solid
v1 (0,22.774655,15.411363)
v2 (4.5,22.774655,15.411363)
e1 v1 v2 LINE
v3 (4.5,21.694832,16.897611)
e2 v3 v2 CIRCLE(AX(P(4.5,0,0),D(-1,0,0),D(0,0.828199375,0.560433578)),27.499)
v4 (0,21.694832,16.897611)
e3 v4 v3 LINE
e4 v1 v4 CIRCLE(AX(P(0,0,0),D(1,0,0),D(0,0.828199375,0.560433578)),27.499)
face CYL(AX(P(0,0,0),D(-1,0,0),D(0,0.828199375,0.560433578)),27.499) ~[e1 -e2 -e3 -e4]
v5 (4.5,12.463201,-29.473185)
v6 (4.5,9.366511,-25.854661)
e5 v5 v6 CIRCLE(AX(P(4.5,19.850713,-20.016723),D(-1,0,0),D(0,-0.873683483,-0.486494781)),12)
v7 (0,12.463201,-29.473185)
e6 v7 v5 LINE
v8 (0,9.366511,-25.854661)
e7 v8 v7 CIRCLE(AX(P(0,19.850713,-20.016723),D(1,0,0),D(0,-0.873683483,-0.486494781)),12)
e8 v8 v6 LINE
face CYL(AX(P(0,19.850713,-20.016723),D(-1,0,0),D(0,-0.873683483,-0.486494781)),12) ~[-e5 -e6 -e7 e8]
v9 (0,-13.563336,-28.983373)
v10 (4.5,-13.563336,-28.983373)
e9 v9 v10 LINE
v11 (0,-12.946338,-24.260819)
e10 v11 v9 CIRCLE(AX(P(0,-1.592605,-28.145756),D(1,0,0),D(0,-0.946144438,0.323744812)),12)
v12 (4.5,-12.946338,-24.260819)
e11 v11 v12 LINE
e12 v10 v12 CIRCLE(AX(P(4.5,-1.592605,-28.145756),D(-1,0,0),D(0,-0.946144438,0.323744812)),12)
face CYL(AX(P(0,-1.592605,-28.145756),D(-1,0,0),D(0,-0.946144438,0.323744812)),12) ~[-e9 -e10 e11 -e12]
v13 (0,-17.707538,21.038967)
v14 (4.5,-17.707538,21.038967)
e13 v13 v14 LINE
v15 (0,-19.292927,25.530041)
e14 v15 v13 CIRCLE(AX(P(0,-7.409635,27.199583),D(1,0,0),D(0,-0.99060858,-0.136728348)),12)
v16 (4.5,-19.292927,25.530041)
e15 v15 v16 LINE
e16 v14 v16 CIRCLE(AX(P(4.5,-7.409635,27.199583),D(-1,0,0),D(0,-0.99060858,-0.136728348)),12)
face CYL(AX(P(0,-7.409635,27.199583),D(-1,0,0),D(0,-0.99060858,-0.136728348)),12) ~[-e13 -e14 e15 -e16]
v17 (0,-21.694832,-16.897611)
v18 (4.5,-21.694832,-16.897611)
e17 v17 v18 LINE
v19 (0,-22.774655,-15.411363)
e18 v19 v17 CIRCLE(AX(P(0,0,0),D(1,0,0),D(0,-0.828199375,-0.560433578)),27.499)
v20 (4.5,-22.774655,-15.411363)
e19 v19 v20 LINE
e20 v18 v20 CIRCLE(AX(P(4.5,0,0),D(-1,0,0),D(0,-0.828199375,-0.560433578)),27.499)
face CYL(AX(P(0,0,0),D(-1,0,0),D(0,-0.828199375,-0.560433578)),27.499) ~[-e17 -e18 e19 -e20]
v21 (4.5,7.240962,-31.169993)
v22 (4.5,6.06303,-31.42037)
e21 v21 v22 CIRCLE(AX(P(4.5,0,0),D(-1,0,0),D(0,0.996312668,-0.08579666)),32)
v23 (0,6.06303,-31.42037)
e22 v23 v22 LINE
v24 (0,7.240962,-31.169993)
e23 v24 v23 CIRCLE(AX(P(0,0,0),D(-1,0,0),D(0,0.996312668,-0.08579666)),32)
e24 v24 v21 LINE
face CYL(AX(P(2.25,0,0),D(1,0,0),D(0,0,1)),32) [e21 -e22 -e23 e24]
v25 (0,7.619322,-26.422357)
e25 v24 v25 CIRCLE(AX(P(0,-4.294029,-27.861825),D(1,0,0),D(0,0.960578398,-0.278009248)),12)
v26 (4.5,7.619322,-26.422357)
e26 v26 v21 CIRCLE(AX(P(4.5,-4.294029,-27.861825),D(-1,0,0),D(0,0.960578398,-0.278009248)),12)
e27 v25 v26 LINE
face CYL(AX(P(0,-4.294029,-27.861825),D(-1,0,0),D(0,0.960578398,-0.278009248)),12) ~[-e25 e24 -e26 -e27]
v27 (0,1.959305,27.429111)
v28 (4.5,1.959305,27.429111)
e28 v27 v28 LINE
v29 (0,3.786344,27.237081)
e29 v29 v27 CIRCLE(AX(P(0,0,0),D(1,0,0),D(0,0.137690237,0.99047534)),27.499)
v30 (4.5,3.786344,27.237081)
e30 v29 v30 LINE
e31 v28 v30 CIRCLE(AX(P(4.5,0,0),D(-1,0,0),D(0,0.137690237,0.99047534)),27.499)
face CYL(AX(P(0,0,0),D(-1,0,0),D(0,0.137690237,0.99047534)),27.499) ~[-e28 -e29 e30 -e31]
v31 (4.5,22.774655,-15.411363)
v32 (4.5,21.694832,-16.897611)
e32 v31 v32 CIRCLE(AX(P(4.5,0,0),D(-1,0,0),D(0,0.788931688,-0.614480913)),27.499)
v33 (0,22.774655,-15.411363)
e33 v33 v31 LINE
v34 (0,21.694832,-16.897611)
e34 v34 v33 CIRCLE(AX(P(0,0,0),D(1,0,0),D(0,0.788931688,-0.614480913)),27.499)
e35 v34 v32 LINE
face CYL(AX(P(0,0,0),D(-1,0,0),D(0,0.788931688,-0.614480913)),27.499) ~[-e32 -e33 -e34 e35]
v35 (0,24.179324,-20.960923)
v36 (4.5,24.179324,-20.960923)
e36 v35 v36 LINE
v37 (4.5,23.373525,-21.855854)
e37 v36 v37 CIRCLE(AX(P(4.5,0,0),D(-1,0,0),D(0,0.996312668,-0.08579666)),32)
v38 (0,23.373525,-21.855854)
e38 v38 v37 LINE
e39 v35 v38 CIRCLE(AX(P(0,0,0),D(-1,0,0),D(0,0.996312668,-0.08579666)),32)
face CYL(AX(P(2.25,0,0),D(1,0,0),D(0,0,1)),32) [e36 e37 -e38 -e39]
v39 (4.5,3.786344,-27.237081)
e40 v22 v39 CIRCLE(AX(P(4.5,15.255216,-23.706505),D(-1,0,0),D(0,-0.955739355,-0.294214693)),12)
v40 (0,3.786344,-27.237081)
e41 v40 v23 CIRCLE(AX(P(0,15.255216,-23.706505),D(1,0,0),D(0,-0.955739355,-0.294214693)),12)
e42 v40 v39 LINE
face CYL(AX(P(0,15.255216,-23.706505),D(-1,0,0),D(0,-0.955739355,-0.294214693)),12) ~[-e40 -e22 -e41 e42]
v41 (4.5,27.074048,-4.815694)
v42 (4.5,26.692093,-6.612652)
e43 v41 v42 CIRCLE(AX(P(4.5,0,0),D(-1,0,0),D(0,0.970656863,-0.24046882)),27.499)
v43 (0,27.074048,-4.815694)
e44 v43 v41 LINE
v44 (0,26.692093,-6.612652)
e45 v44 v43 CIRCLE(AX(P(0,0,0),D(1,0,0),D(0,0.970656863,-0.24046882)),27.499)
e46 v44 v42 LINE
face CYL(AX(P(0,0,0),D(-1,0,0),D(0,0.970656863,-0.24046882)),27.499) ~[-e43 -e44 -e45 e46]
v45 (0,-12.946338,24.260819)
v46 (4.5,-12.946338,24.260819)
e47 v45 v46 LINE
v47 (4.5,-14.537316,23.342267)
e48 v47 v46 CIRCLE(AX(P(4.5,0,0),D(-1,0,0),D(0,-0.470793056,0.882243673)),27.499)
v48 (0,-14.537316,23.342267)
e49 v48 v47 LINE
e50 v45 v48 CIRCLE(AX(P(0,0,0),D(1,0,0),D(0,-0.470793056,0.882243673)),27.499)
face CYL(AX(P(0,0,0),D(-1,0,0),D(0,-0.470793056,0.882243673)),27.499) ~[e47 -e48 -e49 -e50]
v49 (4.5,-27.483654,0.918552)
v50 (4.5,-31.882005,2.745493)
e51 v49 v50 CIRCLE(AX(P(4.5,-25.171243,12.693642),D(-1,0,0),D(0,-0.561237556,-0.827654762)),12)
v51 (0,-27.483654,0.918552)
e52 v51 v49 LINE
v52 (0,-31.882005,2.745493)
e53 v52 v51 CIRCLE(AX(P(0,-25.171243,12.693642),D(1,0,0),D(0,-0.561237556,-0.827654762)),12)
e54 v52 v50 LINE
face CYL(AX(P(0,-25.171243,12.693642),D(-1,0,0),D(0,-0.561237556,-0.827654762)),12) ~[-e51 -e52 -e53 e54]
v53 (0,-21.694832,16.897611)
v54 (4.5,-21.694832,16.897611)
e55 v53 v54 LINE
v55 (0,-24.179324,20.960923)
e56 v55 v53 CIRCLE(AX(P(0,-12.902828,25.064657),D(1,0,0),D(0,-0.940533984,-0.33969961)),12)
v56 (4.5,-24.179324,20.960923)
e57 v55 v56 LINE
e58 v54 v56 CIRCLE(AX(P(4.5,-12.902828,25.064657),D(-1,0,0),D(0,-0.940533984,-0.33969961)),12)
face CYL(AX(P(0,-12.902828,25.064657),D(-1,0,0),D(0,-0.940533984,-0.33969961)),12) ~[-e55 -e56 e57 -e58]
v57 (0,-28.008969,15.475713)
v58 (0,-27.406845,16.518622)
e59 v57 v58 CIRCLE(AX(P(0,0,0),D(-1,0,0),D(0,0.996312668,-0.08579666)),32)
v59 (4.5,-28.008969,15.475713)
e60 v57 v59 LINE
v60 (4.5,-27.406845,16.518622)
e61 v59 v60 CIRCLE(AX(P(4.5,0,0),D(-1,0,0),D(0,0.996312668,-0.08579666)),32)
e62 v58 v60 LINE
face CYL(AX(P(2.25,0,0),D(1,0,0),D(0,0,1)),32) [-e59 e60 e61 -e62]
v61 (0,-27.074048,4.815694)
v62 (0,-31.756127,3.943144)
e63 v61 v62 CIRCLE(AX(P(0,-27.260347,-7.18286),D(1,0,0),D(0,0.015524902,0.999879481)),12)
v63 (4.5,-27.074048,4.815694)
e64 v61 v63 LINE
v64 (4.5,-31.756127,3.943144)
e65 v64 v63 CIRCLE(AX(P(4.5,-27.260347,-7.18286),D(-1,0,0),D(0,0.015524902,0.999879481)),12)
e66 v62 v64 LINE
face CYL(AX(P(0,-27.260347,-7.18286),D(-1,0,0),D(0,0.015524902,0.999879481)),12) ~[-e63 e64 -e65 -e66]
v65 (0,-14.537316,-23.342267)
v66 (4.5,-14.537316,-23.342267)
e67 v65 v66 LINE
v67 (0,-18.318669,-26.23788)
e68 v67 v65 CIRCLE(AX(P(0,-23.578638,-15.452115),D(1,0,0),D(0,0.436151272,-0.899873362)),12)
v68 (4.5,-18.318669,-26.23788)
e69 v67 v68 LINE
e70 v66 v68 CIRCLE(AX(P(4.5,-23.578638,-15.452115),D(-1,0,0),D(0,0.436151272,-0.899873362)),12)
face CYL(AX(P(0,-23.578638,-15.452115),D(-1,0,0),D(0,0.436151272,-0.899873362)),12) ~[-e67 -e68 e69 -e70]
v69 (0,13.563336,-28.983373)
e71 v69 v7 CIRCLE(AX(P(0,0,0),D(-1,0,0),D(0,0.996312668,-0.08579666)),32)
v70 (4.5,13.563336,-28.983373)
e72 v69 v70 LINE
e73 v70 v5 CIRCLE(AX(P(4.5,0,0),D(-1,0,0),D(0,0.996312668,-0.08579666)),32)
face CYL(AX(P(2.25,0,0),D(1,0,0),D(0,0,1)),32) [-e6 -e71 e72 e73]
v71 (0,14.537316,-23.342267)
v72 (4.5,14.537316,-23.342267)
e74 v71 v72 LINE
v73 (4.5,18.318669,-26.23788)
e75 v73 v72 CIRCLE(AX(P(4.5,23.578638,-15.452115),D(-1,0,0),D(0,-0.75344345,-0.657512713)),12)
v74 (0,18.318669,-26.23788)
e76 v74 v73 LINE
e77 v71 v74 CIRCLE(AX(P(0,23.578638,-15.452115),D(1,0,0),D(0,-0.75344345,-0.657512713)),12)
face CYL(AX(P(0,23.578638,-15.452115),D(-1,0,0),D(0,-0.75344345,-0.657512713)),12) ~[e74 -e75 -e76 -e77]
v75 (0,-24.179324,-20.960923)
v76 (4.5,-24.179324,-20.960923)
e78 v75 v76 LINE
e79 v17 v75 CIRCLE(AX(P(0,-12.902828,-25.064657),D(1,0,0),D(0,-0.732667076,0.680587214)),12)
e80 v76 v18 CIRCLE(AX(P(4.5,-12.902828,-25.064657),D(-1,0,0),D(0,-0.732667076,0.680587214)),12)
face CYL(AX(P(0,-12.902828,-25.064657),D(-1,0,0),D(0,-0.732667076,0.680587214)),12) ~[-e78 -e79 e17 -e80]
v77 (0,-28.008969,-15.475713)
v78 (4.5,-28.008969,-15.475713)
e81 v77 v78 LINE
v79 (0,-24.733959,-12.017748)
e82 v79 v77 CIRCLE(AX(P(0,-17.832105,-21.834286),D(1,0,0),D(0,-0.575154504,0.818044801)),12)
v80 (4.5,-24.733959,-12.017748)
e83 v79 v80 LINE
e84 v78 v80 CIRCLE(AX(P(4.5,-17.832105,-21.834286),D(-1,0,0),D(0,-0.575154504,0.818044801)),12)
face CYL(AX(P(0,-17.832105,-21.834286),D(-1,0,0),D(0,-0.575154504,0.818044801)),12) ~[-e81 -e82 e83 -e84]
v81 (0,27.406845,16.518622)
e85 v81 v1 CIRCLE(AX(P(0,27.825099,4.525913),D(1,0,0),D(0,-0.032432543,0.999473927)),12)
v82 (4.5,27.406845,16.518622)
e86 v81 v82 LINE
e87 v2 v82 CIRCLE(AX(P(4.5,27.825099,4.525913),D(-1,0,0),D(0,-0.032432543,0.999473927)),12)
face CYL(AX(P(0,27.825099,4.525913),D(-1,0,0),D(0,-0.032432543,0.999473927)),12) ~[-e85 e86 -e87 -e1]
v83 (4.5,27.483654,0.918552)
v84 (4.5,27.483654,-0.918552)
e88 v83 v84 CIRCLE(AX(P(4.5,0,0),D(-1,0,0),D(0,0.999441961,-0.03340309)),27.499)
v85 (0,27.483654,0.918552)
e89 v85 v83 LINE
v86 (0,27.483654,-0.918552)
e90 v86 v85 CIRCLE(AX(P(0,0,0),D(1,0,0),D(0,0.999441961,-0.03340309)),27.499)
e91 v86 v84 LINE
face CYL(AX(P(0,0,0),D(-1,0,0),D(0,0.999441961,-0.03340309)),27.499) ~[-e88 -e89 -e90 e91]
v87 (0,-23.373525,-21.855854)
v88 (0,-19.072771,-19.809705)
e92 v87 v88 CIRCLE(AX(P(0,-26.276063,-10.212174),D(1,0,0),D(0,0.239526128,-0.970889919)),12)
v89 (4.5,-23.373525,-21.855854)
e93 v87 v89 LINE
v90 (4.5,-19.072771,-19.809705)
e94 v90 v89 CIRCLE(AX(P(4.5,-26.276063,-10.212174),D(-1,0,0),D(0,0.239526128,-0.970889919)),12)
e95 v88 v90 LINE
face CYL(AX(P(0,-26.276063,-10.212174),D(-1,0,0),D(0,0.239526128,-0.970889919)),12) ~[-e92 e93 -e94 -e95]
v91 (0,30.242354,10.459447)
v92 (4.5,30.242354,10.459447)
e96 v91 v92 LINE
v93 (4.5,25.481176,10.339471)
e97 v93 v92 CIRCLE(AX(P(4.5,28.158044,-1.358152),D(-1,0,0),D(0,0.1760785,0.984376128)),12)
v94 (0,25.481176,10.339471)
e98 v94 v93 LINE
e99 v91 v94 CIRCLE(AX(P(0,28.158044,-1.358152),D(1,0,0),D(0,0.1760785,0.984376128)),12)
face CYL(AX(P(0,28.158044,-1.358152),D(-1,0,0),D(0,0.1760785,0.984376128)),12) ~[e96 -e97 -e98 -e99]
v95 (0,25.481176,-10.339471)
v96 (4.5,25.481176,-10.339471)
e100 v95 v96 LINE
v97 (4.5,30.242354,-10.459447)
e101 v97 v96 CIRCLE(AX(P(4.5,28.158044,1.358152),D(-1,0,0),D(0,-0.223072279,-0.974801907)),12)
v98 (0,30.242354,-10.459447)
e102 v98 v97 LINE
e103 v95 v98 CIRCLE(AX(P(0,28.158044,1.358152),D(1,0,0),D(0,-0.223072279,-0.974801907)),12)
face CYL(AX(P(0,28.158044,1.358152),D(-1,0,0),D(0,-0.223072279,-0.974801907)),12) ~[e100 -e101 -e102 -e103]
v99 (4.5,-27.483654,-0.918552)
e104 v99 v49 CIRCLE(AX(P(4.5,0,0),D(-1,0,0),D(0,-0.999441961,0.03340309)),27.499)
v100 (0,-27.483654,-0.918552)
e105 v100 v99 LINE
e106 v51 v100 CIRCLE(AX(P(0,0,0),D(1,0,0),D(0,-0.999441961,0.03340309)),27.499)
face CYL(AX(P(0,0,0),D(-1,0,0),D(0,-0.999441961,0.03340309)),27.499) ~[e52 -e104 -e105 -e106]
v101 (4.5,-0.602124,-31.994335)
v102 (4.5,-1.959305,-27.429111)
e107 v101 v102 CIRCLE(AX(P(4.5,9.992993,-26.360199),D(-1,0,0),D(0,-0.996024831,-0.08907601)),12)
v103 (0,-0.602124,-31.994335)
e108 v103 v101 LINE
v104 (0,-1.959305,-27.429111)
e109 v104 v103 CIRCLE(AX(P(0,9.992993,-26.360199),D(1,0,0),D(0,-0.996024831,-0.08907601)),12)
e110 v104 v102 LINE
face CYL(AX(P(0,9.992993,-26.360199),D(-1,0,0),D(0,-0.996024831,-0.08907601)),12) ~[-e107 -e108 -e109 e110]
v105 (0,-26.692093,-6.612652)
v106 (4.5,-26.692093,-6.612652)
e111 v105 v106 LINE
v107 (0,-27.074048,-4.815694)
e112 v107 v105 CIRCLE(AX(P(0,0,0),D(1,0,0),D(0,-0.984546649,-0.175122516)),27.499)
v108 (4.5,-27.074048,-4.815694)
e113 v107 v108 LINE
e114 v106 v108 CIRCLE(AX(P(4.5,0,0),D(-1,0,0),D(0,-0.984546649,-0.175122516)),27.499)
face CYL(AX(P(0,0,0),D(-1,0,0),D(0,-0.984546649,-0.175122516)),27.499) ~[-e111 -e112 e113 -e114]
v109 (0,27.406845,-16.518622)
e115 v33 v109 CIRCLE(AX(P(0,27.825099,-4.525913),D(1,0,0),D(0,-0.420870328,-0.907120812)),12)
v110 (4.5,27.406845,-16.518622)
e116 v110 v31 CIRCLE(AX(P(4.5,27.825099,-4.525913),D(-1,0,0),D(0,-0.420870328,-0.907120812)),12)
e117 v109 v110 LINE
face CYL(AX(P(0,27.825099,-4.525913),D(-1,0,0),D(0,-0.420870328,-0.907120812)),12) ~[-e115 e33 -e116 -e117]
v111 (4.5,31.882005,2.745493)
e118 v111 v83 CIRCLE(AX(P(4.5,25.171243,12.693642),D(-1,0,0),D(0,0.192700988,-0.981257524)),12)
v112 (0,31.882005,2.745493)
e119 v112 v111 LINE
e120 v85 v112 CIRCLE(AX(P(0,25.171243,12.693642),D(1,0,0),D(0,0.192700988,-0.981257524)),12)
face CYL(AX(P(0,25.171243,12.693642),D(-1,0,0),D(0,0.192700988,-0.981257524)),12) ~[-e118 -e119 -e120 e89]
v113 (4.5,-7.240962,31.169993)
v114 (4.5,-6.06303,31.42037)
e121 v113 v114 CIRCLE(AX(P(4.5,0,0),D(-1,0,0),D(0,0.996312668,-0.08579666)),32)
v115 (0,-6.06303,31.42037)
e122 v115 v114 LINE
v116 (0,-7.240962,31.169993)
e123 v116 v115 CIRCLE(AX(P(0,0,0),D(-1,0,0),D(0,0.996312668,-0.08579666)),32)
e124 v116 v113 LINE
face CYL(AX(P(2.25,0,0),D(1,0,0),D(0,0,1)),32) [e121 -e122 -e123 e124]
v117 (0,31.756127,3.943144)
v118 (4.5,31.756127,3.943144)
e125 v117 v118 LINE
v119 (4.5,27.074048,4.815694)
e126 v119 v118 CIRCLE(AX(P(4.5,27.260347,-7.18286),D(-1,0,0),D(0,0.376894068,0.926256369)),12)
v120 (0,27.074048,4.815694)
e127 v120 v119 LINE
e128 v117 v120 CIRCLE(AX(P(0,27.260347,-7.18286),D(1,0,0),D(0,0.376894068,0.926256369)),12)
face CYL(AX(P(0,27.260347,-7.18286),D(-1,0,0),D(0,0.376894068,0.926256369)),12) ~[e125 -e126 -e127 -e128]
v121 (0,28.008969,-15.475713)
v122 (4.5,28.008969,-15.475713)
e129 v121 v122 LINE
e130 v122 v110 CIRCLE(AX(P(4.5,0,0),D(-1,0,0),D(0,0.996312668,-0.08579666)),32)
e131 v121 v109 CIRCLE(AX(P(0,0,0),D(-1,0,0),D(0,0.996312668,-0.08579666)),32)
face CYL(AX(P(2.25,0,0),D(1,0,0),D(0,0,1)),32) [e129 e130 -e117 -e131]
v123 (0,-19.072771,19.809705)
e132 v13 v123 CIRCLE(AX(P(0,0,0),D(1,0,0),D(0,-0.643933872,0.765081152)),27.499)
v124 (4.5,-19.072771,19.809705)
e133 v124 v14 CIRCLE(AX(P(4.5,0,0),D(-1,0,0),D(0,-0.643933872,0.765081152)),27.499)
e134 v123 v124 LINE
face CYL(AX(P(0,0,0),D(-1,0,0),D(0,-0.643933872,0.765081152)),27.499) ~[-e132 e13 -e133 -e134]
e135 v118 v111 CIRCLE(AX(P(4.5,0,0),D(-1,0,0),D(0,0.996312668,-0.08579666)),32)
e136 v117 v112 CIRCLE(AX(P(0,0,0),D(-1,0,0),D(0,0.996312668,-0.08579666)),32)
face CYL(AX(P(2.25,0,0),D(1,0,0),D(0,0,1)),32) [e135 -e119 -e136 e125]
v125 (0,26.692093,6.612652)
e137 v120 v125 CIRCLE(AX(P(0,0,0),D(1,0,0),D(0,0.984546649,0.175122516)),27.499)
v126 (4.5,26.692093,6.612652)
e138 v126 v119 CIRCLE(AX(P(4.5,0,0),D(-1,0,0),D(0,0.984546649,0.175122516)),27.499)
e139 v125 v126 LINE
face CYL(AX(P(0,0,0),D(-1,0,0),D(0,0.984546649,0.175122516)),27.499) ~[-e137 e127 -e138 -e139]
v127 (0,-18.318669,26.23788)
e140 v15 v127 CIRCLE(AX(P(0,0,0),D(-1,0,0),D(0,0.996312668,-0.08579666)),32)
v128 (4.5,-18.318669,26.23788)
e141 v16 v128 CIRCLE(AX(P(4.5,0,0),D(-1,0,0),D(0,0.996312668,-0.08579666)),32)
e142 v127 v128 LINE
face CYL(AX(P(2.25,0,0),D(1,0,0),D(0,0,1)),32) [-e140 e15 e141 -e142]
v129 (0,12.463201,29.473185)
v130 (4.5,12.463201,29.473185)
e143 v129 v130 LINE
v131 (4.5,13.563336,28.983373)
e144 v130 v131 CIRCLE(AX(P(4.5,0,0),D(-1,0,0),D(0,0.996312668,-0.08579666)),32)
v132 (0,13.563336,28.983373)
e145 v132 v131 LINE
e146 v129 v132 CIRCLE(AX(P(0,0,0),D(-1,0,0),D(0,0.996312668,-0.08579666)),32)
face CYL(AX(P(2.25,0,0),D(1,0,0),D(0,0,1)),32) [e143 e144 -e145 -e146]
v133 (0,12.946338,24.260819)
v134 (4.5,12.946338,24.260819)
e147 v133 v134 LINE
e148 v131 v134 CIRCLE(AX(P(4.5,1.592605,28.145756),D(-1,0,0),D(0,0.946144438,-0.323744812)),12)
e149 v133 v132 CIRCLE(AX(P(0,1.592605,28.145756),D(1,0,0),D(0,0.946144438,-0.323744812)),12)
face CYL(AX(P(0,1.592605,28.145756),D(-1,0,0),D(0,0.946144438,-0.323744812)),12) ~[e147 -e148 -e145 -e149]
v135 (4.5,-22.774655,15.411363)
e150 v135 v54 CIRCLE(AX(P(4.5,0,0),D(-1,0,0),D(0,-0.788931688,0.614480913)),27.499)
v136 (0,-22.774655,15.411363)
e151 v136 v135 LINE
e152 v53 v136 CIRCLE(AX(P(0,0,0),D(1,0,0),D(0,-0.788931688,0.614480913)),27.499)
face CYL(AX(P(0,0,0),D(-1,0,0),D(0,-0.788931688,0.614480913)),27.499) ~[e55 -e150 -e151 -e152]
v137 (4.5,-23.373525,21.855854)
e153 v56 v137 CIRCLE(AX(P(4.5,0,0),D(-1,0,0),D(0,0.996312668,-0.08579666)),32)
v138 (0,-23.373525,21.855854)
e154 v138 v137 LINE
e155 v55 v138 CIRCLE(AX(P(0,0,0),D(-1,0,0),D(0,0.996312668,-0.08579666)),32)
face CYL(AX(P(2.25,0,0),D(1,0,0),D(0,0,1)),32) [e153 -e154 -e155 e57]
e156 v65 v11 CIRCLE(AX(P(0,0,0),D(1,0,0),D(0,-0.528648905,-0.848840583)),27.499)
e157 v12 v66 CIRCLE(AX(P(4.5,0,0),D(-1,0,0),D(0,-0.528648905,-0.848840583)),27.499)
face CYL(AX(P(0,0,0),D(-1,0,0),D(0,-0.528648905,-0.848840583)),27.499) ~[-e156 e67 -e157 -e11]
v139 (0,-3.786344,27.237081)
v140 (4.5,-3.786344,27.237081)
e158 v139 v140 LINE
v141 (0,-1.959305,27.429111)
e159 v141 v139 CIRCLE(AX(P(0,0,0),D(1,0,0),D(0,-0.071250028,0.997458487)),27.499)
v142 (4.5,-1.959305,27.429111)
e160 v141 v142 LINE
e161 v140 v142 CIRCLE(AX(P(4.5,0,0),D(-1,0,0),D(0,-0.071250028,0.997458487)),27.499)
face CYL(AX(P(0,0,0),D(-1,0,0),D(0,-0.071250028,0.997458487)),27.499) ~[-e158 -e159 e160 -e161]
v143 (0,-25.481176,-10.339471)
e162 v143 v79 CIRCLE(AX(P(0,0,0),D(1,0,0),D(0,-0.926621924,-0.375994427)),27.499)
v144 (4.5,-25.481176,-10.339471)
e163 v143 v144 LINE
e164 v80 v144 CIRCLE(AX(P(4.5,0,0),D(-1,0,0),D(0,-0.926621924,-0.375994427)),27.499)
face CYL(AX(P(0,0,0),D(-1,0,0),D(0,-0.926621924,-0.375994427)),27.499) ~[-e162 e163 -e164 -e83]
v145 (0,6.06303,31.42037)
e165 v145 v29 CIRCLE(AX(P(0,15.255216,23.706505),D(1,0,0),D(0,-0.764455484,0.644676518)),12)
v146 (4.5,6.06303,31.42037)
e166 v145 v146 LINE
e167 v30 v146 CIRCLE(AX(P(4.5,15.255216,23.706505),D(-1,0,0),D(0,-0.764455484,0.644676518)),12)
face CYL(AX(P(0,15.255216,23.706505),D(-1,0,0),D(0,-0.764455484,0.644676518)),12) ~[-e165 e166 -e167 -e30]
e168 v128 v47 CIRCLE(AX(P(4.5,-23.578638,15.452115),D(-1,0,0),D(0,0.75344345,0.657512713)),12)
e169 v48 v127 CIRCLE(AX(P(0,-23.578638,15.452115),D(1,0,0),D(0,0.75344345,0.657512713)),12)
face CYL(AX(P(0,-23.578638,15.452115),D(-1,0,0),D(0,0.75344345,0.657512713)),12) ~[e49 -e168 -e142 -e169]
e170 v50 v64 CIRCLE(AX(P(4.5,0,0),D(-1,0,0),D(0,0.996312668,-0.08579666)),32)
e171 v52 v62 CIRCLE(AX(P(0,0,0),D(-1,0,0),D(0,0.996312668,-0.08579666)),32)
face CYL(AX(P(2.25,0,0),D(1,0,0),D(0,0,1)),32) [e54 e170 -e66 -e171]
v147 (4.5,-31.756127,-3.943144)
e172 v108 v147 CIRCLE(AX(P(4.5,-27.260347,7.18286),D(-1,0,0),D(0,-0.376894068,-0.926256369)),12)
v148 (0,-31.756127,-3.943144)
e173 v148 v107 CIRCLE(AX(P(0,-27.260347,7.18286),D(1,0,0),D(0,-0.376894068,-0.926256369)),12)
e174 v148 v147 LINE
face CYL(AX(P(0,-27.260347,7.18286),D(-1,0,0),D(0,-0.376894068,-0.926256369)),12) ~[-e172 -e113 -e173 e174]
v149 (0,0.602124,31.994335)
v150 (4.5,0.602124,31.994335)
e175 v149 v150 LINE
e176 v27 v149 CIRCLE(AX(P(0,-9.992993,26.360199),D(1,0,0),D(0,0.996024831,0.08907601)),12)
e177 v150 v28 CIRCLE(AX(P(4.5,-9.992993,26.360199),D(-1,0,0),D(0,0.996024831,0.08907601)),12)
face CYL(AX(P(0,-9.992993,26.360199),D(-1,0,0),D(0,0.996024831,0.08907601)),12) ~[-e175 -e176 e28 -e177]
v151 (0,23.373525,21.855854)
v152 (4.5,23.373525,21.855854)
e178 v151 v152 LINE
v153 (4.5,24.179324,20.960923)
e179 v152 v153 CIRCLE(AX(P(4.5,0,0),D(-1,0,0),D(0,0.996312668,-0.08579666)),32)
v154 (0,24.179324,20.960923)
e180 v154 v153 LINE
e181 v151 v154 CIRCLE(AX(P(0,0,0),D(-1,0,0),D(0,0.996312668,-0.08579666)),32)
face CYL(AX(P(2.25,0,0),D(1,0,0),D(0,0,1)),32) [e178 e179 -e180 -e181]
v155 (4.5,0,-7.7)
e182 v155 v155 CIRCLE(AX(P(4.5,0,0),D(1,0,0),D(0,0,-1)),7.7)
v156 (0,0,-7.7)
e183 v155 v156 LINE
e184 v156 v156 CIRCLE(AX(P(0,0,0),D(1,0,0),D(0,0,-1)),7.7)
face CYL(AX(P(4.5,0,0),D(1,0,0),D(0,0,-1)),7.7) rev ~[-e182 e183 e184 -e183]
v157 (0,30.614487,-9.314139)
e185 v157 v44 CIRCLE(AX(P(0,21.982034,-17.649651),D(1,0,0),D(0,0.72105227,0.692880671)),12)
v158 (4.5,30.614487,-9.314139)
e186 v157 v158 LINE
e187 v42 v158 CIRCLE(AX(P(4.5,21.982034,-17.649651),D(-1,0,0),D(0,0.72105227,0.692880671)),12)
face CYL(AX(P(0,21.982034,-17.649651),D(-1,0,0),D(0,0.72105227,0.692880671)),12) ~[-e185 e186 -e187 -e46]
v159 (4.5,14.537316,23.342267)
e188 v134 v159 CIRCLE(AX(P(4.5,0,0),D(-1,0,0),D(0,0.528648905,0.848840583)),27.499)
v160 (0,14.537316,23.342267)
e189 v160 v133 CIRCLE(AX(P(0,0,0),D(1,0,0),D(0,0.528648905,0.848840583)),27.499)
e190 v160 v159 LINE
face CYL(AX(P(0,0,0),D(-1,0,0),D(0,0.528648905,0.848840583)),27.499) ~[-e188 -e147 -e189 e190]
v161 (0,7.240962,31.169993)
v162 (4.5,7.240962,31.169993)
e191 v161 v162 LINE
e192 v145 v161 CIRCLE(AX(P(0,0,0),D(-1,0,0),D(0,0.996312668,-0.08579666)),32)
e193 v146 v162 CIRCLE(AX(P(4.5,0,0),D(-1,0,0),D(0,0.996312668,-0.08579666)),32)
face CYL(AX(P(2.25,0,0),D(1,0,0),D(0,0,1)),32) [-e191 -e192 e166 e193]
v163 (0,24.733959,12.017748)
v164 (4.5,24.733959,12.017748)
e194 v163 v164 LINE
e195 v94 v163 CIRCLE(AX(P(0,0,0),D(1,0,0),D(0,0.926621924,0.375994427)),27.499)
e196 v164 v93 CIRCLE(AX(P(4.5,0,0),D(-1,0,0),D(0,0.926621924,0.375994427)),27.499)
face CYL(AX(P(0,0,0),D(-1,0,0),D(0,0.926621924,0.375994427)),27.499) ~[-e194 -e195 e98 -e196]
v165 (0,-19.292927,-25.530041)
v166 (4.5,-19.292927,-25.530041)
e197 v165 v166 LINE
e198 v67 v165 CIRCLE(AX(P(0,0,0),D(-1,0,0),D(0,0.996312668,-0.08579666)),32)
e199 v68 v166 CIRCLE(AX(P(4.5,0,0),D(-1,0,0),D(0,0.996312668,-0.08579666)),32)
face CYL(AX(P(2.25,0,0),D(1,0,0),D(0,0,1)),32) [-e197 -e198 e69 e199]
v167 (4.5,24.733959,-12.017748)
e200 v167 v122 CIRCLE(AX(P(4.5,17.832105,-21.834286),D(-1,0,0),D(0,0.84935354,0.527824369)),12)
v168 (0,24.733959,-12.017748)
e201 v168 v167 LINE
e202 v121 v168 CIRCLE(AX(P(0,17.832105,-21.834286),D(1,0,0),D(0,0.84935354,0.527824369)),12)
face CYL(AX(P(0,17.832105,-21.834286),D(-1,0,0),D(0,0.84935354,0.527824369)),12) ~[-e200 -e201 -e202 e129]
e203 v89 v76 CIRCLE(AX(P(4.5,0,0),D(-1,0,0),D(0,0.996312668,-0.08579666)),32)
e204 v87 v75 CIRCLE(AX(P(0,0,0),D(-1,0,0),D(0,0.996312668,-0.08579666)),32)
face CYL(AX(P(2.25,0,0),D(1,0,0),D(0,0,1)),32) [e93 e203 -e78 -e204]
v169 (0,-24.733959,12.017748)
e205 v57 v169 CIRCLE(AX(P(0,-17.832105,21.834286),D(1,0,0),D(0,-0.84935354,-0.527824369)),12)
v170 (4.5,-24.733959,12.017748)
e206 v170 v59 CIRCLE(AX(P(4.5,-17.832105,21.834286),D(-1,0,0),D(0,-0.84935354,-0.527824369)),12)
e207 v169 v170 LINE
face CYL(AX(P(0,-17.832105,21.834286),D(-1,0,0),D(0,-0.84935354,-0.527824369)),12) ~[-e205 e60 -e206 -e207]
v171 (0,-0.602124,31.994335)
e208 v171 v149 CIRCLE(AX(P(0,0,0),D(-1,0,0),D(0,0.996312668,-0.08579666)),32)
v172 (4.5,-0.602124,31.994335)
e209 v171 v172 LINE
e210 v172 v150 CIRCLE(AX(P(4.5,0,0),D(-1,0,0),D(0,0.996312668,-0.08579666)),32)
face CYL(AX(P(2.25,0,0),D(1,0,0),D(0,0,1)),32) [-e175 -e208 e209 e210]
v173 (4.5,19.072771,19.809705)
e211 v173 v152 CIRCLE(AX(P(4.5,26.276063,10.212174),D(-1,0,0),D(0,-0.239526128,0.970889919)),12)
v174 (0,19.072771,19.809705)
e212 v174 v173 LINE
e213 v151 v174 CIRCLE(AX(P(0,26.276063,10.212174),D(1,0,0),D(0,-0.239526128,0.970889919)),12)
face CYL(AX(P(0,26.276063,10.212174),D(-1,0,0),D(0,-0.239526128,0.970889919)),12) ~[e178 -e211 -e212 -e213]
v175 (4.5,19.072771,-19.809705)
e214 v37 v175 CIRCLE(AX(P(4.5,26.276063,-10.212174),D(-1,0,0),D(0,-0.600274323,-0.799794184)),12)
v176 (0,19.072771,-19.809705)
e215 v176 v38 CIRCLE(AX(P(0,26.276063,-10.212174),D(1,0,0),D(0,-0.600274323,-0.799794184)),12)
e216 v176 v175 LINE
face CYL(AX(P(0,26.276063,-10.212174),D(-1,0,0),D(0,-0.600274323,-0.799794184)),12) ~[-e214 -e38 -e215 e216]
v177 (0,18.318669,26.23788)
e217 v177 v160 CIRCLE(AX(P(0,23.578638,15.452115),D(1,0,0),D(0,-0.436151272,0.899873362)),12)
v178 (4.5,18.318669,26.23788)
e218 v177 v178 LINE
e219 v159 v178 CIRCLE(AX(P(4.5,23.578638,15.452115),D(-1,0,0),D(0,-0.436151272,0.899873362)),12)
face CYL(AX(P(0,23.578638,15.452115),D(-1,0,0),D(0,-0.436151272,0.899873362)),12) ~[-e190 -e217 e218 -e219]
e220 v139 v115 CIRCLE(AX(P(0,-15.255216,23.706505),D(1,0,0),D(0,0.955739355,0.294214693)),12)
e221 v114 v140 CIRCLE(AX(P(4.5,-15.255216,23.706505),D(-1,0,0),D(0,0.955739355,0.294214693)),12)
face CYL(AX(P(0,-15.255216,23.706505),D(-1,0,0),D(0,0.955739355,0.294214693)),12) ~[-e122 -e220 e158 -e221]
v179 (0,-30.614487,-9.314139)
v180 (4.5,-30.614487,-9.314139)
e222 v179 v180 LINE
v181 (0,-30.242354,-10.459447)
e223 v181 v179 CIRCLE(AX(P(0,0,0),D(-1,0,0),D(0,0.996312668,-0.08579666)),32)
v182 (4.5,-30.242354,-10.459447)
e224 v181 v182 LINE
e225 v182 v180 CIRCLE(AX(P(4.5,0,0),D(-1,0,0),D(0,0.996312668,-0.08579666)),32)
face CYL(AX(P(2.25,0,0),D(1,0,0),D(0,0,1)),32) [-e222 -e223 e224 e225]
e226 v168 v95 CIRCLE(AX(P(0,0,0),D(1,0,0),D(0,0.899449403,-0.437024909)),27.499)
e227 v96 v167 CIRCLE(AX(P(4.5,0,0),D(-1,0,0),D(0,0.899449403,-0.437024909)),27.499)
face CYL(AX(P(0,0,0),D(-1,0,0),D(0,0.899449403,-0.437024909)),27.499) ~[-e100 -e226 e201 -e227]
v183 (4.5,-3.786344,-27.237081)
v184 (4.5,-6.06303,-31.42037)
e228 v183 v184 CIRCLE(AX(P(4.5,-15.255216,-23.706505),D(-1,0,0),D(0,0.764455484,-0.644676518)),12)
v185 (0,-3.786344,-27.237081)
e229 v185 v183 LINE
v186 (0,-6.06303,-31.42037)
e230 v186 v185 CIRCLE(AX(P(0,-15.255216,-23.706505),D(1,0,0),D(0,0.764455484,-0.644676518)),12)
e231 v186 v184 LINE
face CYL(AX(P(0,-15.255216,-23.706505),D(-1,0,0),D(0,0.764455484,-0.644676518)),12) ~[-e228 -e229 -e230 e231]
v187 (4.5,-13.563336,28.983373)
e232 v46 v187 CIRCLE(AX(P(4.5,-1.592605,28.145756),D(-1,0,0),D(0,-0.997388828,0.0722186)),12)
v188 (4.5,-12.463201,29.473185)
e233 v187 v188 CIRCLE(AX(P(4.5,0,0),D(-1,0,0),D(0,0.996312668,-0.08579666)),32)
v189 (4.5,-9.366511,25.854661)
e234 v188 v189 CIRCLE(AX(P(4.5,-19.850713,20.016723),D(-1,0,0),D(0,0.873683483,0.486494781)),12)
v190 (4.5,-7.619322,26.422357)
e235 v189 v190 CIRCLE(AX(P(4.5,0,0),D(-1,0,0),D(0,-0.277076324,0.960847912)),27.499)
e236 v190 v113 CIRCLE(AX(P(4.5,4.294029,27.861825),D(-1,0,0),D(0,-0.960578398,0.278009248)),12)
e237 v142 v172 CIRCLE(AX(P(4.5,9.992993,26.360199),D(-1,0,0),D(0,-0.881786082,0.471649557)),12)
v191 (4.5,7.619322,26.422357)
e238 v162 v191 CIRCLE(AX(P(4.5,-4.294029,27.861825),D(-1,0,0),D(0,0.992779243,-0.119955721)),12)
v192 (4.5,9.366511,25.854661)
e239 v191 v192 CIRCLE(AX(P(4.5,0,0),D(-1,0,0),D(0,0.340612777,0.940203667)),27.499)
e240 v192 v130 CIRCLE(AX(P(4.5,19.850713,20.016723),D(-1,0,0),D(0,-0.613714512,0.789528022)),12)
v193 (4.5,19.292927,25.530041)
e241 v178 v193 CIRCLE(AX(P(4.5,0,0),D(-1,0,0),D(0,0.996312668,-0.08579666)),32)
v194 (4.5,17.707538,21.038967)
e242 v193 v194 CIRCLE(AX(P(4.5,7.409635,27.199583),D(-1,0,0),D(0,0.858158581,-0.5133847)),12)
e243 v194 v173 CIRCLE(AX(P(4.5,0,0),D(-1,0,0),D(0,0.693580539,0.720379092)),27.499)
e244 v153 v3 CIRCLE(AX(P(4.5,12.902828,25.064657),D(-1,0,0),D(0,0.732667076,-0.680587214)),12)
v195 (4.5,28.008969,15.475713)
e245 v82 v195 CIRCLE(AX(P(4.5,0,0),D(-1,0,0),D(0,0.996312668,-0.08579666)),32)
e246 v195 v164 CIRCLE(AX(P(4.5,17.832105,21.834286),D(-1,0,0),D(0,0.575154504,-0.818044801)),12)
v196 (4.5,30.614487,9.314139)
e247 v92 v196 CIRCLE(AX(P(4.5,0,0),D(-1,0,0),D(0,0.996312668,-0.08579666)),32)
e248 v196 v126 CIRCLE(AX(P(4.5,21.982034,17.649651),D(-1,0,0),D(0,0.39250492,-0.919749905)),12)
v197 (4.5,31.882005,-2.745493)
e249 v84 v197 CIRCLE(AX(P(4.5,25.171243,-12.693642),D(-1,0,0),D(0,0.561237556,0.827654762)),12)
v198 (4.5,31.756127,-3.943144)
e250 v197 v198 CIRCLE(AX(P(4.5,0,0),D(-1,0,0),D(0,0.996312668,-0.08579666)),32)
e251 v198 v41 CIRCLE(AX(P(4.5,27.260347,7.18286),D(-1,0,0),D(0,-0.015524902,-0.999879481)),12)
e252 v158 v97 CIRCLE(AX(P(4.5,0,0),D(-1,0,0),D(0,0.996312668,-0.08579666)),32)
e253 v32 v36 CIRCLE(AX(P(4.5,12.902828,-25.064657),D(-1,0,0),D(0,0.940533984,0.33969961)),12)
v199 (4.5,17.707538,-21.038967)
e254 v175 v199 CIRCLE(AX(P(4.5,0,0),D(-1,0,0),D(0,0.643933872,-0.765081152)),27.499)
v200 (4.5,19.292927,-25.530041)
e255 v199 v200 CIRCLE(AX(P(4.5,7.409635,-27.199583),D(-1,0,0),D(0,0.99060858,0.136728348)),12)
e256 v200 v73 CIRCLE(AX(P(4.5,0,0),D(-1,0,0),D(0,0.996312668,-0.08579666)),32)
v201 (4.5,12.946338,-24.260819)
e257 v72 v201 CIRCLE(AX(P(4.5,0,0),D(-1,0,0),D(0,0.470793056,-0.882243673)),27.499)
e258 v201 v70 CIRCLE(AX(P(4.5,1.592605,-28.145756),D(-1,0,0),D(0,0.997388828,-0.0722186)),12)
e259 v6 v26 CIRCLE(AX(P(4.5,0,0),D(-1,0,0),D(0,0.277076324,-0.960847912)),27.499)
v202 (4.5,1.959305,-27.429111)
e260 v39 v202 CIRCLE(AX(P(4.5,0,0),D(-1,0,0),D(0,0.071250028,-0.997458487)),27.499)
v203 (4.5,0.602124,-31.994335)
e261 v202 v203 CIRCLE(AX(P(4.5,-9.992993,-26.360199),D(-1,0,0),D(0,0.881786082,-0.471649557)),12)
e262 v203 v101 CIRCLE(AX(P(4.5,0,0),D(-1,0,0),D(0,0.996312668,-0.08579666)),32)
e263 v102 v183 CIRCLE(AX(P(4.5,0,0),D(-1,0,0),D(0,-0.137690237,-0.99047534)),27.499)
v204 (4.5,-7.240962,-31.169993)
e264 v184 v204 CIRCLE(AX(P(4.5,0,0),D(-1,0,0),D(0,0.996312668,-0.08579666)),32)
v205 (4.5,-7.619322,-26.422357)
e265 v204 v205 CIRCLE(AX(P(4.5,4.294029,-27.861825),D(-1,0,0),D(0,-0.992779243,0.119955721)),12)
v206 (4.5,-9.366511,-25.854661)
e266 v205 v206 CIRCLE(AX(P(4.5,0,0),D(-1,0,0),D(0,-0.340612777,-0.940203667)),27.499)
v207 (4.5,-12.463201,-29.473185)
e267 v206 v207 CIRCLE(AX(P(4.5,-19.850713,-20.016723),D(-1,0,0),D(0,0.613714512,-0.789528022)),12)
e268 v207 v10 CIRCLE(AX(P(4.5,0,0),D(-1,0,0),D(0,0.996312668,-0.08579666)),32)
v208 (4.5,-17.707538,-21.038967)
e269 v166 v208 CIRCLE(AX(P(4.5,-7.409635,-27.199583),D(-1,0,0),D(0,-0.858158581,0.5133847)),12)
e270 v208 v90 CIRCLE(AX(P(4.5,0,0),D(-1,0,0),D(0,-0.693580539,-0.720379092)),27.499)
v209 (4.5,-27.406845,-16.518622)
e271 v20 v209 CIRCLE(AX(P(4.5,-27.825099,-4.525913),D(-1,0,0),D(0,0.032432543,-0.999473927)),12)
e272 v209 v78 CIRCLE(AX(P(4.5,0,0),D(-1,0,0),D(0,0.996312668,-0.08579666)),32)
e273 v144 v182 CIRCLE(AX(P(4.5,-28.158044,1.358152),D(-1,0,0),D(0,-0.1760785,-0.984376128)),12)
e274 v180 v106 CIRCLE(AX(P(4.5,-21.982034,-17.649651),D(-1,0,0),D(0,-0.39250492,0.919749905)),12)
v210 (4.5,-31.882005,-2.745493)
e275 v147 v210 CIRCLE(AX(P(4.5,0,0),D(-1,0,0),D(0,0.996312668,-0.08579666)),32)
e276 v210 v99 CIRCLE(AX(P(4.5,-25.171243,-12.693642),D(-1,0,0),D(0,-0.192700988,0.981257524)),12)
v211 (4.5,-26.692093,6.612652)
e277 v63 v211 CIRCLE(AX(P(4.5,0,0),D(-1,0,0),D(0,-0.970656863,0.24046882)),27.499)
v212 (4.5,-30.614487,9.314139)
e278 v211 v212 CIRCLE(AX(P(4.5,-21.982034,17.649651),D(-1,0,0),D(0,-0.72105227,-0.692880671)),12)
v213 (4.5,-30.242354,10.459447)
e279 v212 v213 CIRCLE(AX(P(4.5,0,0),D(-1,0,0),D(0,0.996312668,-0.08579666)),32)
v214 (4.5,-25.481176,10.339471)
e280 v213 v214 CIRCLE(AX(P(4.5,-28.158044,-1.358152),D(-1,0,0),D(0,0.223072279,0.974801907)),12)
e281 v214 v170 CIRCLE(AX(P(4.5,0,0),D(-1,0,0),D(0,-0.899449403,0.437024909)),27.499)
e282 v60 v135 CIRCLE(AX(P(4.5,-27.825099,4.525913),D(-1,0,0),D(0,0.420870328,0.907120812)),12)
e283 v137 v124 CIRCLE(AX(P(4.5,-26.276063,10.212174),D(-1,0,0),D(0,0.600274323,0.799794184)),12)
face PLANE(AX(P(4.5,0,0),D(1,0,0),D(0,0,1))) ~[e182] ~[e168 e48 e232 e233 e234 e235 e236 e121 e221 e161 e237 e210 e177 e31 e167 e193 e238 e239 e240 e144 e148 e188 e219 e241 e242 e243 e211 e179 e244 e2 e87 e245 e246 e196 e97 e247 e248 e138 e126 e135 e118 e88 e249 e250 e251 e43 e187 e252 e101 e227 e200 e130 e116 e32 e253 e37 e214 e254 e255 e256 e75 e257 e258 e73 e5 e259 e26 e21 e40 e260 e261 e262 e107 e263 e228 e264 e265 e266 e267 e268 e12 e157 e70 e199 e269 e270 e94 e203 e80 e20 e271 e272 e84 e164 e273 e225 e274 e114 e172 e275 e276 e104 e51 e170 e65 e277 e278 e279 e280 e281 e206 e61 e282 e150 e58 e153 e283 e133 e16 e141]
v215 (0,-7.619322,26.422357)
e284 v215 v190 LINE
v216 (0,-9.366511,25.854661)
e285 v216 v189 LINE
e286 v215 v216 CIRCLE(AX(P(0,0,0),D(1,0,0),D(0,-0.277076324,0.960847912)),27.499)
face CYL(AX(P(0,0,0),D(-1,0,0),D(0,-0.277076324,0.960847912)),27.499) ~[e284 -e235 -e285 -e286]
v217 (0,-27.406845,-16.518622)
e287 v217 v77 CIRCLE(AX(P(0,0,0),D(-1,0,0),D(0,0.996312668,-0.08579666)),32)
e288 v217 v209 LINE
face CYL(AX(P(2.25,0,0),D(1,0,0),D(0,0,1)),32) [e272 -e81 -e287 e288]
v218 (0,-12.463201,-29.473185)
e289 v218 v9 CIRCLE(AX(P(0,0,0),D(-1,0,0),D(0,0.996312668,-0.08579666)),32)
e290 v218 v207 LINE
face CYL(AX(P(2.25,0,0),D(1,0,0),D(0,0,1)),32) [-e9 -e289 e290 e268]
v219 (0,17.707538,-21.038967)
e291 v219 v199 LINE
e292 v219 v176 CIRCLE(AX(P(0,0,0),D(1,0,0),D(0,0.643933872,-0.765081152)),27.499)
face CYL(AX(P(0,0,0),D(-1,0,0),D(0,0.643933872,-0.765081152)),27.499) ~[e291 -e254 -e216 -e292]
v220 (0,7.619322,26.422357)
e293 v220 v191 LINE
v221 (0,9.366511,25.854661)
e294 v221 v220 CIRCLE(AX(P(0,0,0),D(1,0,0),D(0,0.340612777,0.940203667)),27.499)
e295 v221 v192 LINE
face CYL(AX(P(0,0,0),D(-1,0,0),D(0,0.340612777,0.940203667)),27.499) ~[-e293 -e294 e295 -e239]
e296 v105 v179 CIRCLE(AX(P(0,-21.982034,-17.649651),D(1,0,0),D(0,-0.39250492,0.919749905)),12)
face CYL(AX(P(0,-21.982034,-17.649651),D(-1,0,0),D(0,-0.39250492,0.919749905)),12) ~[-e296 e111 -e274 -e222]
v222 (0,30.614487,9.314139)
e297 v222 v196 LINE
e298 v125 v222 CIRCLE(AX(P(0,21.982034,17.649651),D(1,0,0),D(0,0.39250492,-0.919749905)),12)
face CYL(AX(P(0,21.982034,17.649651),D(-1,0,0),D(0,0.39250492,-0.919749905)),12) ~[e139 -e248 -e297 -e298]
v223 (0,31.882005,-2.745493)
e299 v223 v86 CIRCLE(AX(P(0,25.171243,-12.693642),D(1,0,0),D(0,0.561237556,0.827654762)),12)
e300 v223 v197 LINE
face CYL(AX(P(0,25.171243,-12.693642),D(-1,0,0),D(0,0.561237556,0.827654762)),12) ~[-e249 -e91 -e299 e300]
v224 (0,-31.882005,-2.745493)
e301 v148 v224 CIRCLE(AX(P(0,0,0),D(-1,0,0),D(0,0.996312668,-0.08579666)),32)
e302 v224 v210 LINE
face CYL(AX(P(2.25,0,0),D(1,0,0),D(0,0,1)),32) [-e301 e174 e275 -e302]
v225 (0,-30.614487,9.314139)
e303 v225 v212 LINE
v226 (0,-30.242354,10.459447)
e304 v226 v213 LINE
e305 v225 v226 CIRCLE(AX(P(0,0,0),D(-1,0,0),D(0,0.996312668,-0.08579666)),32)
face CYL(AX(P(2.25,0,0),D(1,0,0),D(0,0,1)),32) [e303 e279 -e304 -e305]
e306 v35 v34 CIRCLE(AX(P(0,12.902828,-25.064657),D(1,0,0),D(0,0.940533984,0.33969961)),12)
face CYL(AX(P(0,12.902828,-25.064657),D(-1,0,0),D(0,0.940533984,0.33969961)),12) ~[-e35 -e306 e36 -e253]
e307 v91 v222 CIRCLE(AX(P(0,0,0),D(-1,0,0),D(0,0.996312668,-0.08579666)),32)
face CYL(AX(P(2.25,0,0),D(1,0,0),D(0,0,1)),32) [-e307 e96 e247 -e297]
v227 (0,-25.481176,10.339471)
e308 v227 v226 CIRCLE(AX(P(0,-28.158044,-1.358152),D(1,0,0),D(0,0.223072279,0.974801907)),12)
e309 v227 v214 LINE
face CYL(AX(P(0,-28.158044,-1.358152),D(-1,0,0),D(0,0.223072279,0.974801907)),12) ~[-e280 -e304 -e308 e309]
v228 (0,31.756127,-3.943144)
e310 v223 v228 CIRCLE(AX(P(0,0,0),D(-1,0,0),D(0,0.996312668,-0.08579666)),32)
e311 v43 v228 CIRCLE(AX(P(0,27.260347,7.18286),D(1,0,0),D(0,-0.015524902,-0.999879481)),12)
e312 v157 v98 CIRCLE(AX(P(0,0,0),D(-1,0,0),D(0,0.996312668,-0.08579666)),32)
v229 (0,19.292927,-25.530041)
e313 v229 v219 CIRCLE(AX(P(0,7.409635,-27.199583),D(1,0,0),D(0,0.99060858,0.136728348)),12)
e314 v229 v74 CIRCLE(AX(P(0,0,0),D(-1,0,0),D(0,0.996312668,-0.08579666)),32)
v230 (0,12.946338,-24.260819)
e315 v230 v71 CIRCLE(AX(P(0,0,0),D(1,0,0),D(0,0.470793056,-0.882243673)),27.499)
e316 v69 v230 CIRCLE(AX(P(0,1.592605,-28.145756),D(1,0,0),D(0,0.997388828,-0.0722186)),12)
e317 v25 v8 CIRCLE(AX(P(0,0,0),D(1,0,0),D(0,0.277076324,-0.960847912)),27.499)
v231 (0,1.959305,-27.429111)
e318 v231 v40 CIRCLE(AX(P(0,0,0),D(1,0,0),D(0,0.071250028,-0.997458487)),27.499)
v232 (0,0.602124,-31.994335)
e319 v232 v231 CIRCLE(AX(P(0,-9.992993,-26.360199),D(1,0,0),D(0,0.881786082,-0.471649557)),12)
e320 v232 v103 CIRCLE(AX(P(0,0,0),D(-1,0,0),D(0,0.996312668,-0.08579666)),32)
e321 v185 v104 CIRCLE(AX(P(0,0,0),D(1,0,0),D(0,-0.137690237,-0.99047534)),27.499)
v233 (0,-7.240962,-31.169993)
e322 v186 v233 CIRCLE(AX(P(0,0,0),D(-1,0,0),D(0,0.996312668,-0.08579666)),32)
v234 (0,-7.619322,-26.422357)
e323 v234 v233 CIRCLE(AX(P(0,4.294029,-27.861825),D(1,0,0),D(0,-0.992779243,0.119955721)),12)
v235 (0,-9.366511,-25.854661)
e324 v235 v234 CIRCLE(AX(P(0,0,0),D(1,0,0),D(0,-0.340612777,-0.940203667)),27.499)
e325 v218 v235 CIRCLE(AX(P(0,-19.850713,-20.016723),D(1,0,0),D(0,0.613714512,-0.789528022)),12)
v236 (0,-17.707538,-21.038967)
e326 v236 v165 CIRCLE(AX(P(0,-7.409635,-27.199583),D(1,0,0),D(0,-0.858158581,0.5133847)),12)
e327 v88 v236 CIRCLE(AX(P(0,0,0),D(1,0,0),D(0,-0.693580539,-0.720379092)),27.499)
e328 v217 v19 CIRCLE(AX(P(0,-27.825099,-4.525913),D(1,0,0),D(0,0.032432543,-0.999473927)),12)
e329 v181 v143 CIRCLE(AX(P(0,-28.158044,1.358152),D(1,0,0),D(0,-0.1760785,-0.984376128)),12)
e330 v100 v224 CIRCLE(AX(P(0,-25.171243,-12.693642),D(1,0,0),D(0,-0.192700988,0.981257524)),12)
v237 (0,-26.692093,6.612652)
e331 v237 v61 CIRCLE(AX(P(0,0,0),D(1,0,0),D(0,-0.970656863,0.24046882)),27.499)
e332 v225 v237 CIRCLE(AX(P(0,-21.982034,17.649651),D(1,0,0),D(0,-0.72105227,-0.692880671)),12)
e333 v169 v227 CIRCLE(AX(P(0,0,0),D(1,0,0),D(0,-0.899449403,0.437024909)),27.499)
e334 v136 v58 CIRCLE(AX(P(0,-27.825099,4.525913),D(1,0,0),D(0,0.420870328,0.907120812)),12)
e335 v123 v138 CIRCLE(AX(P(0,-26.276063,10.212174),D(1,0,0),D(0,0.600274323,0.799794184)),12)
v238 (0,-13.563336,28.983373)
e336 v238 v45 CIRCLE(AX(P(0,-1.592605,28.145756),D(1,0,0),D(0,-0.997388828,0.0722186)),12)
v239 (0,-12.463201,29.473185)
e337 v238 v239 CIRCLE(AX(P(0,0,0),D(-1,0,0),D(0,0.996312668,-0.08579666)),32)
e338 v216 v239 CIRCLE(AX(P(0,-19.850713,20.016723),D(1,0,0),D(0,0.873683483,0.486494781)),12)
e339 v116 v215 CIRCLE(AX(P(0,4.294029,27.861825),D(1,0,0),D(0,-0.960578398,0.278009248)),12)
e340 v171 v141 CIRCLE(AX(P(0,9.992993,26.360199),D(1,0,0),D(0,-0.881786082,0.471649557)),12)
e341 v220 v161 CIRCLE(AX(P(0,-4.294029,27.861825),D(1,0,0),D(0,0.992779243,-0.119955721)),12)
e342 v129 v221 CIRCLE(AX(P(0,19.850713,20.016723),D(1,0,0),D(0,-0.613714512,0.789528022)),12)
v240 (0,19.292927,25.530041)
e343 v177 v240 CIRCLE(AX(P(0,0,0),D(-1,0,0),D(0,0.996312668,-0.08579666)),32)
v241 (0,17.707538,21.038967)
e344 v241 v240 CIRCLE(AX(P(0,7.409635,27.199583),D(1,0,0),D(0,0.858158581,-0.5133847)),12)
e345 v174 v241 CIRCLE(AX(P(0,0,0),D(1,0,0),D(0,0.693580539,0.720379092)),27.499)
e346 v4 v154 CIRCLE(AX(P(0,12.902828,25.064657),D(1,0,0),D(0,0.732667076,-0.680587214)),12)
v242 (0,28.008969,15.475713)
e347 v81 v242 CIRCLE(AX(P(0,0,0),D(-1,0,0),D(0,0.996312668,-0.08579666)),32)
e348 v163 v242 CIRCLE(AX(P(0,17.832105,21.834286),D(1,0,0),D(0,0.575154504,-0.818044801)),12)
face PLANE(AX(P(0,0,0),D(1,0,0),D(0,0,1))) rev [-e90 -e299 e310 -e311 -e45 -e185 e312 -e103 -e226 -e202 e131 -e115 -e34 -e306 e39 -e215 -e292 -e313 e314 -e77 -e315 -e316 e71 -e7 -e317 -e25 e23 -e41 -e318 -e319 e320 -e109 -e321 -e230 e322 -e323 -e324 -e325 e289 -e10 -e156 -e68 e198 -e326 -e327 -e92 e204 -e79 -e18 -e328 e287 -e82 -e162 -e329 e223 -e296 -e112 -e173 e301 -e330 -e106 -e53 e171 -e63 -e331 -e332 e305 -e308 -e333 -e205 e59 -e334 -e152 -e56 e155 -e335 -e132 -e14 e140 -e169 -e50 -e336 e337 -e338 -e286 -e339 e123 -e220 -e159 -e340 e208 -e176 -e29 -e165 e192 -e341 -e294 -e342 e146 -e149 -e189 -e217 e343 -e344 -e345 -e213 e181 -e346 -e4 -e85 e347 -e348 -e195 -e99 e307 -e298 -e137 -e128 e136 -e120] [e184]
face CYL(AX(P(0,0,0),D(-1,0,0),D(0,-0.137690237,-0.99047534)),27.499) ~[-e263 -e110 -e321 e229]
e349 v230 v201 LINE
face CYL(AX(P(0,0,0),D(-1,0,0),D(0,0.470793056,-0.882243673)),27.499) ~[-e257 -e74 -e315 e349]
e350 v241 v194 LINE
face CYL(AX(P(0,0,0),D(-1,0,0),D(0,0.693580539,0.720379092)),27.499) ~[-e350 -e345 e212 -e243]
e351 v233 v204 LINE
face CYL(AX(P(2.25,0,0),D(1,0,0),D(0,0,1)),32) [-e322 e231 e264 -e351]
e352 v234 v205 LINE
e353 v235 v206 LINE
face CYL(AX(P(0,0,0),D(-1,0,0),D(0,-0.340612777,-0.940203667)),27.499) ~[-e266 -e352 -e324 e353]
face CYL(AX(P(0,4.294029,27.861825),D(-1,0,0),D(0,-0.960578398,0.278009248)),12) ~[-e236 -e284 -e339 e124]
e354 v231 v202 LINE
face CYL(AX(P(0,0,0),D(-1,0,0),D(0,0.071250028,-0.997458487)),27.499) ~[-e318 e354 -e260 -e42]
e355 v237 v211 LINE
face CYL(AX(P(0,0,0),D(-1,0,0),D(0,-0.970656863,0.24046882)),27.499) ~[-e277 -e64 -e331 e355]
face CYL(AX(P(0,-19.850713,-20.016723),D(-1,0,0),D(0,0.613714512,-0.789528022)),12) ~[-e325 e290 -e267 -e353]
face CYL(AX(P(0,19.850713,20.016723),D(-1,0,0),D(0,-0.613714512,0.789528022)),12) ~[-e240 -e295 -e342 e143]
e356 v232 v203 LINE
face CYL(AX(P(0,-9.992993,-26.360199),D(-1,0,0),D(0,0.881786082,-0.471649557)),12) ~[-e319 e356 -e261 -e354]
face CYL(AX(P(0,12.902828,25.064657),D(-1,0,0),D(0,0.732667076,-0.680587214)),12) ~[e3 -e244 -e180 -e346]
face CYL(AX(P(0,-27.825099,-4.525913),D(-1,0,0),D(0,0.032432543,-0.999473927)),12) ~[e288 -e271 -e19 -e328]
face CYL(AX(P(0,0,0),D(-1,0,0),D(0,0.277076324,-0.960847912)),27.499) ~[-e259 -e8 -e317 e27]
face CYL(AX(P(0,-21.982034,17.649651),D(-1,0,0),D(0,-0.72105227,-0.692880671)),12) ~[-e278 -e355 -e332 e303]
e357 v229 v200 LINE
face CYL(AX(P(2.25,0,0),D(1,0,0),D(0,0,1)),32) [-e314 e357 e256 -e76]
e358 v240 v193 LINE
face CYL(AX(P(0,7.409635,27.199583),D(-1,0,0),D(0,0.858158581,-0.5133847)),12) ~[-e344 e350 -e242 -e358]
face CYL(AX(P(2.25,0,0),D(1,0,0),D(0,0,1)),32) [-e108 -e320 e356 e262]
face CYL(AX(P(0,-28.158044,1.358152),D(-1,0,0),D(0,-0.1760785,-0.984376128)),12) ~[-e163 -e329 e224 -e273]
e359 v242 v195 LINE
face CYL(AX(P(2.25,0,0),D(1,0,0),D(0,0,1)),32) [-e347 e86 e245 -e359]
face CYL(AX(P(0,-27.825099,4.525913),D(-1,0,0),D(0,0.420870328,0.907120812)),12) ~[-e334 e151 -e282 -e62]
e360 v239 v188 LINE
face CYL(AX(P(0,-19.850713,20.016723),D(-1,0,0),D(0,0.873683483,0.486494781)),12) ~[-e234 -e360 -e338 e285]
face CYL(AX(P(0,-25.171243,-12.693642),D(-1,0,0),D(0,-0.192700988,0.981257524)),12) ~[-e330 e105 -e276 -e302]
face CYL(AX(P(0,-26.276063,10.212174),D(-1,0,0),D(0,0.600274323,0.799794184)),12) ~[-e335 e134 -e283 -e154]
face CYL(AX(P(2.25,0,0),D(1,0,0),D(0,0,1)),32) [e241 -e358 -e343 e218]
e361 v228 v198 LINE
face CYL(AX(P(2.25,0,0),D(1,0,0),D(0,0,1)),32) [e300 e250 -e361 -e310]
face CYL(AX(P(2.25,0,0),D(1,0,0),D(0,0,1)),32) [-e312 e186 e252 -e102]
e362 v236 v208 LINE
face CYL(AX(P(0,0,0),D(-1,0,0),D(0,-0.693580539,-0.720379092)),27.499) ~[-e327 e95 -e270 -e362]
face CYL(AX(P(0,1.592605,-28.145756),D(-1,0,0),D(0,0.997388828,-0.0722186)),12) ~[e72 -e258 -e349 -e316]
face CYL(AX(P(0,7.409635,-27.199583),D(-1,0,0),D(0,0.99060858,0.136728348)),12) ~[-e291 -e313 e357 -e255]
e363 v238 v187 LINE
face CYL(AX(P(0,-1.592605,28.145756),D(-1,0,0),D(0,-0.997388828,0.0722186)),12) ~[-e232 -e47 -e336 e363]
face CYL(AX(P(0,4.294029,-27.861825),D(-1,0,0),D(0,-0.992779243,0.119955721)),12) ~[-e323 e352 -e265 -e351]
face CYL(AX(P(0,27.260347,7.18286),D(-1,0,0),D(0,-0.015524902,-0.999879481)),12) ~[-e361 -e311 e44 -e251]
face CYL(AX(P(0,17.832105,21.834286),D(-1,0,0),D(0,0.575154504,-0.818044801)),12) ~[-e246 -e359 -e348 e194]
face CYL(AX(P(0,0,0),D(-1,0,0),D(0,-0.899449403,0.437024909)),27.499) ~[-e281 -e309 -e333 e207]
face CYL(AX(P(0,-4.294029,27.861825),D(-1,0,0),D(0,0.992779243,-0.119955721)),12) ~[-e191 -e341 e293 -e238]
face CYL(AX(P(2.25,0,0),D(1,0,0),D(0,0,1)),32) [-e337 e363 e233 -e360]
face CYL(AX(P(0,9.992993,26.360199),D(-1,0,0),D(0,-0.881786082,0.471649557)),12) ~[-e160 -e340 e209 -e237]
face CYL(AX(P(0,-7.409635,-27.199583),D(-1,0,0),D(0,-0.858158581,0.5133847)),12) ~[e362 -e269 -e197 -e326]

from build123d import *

# Parameters (mm, degrees)
BASPROSKE_W        = 4.5
BASPROSKE_H        = 32
TOOTHCUT_DEPTH     = 46.478016667
TEETHCUTS_COUNT    = 30
TEETHCUTS_ANGLE    = 348
BORSKE_R           = 5
BORE_DEPTH         = 50.0000508
SKETCH1_R          = 7.7
CUT_EXTRUDE1_DEPTH = 46.395068758


with BuildPart() as part:
    # BasProSke → Base-Revolve (revolve)
    with BuildSketch(Plane(origin=(0, 0, 0), x_dir=(1, 0, 0), z_dir=(0, 1, 0)), mode=Mode.PRIVATE) as base_revolve_sk:
        with Locations((2.25, 16)):
            Rectangle(BASPROSKE_W, BASPROSKE_H)
    revolve(base_revolve_sk.sketch.rotate(Axis((-10, 0, 0), (1, 0, 0)), 180), axis=Axis((-10, 0, 0), (1, 0, 0)))

    # TooCutSke → ToothCut (cut, through all)
    with BuildSketch(Plane(origin=(0, 0, 0), x_dir=(0, 0, -1), z_dir=(1, 0, 0))):
        with BuildLine():
            ThreePointArc((0.918551563, 27.483654488), (0, 27.499), (-0.918551563, 27.483654488))
            ThreePointArc((-0.918551563, 27.483654488), (-1.617208176, 29.787801627), (-2.761784709, 31.906093311))
            ThreePointArc((-2.761784709, 31.906093311), (0, 32.0254), (2.761784709, 31.906093311))
            ThreePointArc((2.761784709, 31.906093311), (1.617208176, 29.787801627), (0.918551563, 27.483654488))
        make_face()
    toothcut = extrude(amount=TOOTHCUT_DEPTH, mode=Mode.SUBTRACT)

    # TeethCuts: ToothCut ×30 about axis
    teethcuts_axis = Axis((-10, 0, 0), (1, 0, 0))
    for i in range(1, TEETHCUTS_COUNT):
        add(toothcut.rotate(teethcuts_axis, i * TEETHCUTS_ANGLE / (TEETHCUTS_COUNT - 1)), mode=Mode.SUBTRACT)

    # BorSke → Bore (cut, symmetric)
    with BuildSketch(Plane(origin=(0, 0, 0), x_dir=(0, 0, -1), z_dir=(1, 0, 0))):
        with Locations(Location((0, 0, 0), (0, 0, 180))):
            Circle(BORSKE_R)
    extrude(amount=BORE_DEPTH, both=True, mode=Mode.SUBTRACT)

    # Sketch1 → Cut-Extrude1 (cut, through all)
    with BuildSketch(Plane(origin=(4.5, 0, 0), x_dir=(0, 0, -1), z_dir=(1, 0, 0))):
        Circle(SKETCH1_R)
    extrude(amount=-CUT_EXTRUDE1_DEPTH, mode=Mode.SUBTRACT)


solid = part.part
